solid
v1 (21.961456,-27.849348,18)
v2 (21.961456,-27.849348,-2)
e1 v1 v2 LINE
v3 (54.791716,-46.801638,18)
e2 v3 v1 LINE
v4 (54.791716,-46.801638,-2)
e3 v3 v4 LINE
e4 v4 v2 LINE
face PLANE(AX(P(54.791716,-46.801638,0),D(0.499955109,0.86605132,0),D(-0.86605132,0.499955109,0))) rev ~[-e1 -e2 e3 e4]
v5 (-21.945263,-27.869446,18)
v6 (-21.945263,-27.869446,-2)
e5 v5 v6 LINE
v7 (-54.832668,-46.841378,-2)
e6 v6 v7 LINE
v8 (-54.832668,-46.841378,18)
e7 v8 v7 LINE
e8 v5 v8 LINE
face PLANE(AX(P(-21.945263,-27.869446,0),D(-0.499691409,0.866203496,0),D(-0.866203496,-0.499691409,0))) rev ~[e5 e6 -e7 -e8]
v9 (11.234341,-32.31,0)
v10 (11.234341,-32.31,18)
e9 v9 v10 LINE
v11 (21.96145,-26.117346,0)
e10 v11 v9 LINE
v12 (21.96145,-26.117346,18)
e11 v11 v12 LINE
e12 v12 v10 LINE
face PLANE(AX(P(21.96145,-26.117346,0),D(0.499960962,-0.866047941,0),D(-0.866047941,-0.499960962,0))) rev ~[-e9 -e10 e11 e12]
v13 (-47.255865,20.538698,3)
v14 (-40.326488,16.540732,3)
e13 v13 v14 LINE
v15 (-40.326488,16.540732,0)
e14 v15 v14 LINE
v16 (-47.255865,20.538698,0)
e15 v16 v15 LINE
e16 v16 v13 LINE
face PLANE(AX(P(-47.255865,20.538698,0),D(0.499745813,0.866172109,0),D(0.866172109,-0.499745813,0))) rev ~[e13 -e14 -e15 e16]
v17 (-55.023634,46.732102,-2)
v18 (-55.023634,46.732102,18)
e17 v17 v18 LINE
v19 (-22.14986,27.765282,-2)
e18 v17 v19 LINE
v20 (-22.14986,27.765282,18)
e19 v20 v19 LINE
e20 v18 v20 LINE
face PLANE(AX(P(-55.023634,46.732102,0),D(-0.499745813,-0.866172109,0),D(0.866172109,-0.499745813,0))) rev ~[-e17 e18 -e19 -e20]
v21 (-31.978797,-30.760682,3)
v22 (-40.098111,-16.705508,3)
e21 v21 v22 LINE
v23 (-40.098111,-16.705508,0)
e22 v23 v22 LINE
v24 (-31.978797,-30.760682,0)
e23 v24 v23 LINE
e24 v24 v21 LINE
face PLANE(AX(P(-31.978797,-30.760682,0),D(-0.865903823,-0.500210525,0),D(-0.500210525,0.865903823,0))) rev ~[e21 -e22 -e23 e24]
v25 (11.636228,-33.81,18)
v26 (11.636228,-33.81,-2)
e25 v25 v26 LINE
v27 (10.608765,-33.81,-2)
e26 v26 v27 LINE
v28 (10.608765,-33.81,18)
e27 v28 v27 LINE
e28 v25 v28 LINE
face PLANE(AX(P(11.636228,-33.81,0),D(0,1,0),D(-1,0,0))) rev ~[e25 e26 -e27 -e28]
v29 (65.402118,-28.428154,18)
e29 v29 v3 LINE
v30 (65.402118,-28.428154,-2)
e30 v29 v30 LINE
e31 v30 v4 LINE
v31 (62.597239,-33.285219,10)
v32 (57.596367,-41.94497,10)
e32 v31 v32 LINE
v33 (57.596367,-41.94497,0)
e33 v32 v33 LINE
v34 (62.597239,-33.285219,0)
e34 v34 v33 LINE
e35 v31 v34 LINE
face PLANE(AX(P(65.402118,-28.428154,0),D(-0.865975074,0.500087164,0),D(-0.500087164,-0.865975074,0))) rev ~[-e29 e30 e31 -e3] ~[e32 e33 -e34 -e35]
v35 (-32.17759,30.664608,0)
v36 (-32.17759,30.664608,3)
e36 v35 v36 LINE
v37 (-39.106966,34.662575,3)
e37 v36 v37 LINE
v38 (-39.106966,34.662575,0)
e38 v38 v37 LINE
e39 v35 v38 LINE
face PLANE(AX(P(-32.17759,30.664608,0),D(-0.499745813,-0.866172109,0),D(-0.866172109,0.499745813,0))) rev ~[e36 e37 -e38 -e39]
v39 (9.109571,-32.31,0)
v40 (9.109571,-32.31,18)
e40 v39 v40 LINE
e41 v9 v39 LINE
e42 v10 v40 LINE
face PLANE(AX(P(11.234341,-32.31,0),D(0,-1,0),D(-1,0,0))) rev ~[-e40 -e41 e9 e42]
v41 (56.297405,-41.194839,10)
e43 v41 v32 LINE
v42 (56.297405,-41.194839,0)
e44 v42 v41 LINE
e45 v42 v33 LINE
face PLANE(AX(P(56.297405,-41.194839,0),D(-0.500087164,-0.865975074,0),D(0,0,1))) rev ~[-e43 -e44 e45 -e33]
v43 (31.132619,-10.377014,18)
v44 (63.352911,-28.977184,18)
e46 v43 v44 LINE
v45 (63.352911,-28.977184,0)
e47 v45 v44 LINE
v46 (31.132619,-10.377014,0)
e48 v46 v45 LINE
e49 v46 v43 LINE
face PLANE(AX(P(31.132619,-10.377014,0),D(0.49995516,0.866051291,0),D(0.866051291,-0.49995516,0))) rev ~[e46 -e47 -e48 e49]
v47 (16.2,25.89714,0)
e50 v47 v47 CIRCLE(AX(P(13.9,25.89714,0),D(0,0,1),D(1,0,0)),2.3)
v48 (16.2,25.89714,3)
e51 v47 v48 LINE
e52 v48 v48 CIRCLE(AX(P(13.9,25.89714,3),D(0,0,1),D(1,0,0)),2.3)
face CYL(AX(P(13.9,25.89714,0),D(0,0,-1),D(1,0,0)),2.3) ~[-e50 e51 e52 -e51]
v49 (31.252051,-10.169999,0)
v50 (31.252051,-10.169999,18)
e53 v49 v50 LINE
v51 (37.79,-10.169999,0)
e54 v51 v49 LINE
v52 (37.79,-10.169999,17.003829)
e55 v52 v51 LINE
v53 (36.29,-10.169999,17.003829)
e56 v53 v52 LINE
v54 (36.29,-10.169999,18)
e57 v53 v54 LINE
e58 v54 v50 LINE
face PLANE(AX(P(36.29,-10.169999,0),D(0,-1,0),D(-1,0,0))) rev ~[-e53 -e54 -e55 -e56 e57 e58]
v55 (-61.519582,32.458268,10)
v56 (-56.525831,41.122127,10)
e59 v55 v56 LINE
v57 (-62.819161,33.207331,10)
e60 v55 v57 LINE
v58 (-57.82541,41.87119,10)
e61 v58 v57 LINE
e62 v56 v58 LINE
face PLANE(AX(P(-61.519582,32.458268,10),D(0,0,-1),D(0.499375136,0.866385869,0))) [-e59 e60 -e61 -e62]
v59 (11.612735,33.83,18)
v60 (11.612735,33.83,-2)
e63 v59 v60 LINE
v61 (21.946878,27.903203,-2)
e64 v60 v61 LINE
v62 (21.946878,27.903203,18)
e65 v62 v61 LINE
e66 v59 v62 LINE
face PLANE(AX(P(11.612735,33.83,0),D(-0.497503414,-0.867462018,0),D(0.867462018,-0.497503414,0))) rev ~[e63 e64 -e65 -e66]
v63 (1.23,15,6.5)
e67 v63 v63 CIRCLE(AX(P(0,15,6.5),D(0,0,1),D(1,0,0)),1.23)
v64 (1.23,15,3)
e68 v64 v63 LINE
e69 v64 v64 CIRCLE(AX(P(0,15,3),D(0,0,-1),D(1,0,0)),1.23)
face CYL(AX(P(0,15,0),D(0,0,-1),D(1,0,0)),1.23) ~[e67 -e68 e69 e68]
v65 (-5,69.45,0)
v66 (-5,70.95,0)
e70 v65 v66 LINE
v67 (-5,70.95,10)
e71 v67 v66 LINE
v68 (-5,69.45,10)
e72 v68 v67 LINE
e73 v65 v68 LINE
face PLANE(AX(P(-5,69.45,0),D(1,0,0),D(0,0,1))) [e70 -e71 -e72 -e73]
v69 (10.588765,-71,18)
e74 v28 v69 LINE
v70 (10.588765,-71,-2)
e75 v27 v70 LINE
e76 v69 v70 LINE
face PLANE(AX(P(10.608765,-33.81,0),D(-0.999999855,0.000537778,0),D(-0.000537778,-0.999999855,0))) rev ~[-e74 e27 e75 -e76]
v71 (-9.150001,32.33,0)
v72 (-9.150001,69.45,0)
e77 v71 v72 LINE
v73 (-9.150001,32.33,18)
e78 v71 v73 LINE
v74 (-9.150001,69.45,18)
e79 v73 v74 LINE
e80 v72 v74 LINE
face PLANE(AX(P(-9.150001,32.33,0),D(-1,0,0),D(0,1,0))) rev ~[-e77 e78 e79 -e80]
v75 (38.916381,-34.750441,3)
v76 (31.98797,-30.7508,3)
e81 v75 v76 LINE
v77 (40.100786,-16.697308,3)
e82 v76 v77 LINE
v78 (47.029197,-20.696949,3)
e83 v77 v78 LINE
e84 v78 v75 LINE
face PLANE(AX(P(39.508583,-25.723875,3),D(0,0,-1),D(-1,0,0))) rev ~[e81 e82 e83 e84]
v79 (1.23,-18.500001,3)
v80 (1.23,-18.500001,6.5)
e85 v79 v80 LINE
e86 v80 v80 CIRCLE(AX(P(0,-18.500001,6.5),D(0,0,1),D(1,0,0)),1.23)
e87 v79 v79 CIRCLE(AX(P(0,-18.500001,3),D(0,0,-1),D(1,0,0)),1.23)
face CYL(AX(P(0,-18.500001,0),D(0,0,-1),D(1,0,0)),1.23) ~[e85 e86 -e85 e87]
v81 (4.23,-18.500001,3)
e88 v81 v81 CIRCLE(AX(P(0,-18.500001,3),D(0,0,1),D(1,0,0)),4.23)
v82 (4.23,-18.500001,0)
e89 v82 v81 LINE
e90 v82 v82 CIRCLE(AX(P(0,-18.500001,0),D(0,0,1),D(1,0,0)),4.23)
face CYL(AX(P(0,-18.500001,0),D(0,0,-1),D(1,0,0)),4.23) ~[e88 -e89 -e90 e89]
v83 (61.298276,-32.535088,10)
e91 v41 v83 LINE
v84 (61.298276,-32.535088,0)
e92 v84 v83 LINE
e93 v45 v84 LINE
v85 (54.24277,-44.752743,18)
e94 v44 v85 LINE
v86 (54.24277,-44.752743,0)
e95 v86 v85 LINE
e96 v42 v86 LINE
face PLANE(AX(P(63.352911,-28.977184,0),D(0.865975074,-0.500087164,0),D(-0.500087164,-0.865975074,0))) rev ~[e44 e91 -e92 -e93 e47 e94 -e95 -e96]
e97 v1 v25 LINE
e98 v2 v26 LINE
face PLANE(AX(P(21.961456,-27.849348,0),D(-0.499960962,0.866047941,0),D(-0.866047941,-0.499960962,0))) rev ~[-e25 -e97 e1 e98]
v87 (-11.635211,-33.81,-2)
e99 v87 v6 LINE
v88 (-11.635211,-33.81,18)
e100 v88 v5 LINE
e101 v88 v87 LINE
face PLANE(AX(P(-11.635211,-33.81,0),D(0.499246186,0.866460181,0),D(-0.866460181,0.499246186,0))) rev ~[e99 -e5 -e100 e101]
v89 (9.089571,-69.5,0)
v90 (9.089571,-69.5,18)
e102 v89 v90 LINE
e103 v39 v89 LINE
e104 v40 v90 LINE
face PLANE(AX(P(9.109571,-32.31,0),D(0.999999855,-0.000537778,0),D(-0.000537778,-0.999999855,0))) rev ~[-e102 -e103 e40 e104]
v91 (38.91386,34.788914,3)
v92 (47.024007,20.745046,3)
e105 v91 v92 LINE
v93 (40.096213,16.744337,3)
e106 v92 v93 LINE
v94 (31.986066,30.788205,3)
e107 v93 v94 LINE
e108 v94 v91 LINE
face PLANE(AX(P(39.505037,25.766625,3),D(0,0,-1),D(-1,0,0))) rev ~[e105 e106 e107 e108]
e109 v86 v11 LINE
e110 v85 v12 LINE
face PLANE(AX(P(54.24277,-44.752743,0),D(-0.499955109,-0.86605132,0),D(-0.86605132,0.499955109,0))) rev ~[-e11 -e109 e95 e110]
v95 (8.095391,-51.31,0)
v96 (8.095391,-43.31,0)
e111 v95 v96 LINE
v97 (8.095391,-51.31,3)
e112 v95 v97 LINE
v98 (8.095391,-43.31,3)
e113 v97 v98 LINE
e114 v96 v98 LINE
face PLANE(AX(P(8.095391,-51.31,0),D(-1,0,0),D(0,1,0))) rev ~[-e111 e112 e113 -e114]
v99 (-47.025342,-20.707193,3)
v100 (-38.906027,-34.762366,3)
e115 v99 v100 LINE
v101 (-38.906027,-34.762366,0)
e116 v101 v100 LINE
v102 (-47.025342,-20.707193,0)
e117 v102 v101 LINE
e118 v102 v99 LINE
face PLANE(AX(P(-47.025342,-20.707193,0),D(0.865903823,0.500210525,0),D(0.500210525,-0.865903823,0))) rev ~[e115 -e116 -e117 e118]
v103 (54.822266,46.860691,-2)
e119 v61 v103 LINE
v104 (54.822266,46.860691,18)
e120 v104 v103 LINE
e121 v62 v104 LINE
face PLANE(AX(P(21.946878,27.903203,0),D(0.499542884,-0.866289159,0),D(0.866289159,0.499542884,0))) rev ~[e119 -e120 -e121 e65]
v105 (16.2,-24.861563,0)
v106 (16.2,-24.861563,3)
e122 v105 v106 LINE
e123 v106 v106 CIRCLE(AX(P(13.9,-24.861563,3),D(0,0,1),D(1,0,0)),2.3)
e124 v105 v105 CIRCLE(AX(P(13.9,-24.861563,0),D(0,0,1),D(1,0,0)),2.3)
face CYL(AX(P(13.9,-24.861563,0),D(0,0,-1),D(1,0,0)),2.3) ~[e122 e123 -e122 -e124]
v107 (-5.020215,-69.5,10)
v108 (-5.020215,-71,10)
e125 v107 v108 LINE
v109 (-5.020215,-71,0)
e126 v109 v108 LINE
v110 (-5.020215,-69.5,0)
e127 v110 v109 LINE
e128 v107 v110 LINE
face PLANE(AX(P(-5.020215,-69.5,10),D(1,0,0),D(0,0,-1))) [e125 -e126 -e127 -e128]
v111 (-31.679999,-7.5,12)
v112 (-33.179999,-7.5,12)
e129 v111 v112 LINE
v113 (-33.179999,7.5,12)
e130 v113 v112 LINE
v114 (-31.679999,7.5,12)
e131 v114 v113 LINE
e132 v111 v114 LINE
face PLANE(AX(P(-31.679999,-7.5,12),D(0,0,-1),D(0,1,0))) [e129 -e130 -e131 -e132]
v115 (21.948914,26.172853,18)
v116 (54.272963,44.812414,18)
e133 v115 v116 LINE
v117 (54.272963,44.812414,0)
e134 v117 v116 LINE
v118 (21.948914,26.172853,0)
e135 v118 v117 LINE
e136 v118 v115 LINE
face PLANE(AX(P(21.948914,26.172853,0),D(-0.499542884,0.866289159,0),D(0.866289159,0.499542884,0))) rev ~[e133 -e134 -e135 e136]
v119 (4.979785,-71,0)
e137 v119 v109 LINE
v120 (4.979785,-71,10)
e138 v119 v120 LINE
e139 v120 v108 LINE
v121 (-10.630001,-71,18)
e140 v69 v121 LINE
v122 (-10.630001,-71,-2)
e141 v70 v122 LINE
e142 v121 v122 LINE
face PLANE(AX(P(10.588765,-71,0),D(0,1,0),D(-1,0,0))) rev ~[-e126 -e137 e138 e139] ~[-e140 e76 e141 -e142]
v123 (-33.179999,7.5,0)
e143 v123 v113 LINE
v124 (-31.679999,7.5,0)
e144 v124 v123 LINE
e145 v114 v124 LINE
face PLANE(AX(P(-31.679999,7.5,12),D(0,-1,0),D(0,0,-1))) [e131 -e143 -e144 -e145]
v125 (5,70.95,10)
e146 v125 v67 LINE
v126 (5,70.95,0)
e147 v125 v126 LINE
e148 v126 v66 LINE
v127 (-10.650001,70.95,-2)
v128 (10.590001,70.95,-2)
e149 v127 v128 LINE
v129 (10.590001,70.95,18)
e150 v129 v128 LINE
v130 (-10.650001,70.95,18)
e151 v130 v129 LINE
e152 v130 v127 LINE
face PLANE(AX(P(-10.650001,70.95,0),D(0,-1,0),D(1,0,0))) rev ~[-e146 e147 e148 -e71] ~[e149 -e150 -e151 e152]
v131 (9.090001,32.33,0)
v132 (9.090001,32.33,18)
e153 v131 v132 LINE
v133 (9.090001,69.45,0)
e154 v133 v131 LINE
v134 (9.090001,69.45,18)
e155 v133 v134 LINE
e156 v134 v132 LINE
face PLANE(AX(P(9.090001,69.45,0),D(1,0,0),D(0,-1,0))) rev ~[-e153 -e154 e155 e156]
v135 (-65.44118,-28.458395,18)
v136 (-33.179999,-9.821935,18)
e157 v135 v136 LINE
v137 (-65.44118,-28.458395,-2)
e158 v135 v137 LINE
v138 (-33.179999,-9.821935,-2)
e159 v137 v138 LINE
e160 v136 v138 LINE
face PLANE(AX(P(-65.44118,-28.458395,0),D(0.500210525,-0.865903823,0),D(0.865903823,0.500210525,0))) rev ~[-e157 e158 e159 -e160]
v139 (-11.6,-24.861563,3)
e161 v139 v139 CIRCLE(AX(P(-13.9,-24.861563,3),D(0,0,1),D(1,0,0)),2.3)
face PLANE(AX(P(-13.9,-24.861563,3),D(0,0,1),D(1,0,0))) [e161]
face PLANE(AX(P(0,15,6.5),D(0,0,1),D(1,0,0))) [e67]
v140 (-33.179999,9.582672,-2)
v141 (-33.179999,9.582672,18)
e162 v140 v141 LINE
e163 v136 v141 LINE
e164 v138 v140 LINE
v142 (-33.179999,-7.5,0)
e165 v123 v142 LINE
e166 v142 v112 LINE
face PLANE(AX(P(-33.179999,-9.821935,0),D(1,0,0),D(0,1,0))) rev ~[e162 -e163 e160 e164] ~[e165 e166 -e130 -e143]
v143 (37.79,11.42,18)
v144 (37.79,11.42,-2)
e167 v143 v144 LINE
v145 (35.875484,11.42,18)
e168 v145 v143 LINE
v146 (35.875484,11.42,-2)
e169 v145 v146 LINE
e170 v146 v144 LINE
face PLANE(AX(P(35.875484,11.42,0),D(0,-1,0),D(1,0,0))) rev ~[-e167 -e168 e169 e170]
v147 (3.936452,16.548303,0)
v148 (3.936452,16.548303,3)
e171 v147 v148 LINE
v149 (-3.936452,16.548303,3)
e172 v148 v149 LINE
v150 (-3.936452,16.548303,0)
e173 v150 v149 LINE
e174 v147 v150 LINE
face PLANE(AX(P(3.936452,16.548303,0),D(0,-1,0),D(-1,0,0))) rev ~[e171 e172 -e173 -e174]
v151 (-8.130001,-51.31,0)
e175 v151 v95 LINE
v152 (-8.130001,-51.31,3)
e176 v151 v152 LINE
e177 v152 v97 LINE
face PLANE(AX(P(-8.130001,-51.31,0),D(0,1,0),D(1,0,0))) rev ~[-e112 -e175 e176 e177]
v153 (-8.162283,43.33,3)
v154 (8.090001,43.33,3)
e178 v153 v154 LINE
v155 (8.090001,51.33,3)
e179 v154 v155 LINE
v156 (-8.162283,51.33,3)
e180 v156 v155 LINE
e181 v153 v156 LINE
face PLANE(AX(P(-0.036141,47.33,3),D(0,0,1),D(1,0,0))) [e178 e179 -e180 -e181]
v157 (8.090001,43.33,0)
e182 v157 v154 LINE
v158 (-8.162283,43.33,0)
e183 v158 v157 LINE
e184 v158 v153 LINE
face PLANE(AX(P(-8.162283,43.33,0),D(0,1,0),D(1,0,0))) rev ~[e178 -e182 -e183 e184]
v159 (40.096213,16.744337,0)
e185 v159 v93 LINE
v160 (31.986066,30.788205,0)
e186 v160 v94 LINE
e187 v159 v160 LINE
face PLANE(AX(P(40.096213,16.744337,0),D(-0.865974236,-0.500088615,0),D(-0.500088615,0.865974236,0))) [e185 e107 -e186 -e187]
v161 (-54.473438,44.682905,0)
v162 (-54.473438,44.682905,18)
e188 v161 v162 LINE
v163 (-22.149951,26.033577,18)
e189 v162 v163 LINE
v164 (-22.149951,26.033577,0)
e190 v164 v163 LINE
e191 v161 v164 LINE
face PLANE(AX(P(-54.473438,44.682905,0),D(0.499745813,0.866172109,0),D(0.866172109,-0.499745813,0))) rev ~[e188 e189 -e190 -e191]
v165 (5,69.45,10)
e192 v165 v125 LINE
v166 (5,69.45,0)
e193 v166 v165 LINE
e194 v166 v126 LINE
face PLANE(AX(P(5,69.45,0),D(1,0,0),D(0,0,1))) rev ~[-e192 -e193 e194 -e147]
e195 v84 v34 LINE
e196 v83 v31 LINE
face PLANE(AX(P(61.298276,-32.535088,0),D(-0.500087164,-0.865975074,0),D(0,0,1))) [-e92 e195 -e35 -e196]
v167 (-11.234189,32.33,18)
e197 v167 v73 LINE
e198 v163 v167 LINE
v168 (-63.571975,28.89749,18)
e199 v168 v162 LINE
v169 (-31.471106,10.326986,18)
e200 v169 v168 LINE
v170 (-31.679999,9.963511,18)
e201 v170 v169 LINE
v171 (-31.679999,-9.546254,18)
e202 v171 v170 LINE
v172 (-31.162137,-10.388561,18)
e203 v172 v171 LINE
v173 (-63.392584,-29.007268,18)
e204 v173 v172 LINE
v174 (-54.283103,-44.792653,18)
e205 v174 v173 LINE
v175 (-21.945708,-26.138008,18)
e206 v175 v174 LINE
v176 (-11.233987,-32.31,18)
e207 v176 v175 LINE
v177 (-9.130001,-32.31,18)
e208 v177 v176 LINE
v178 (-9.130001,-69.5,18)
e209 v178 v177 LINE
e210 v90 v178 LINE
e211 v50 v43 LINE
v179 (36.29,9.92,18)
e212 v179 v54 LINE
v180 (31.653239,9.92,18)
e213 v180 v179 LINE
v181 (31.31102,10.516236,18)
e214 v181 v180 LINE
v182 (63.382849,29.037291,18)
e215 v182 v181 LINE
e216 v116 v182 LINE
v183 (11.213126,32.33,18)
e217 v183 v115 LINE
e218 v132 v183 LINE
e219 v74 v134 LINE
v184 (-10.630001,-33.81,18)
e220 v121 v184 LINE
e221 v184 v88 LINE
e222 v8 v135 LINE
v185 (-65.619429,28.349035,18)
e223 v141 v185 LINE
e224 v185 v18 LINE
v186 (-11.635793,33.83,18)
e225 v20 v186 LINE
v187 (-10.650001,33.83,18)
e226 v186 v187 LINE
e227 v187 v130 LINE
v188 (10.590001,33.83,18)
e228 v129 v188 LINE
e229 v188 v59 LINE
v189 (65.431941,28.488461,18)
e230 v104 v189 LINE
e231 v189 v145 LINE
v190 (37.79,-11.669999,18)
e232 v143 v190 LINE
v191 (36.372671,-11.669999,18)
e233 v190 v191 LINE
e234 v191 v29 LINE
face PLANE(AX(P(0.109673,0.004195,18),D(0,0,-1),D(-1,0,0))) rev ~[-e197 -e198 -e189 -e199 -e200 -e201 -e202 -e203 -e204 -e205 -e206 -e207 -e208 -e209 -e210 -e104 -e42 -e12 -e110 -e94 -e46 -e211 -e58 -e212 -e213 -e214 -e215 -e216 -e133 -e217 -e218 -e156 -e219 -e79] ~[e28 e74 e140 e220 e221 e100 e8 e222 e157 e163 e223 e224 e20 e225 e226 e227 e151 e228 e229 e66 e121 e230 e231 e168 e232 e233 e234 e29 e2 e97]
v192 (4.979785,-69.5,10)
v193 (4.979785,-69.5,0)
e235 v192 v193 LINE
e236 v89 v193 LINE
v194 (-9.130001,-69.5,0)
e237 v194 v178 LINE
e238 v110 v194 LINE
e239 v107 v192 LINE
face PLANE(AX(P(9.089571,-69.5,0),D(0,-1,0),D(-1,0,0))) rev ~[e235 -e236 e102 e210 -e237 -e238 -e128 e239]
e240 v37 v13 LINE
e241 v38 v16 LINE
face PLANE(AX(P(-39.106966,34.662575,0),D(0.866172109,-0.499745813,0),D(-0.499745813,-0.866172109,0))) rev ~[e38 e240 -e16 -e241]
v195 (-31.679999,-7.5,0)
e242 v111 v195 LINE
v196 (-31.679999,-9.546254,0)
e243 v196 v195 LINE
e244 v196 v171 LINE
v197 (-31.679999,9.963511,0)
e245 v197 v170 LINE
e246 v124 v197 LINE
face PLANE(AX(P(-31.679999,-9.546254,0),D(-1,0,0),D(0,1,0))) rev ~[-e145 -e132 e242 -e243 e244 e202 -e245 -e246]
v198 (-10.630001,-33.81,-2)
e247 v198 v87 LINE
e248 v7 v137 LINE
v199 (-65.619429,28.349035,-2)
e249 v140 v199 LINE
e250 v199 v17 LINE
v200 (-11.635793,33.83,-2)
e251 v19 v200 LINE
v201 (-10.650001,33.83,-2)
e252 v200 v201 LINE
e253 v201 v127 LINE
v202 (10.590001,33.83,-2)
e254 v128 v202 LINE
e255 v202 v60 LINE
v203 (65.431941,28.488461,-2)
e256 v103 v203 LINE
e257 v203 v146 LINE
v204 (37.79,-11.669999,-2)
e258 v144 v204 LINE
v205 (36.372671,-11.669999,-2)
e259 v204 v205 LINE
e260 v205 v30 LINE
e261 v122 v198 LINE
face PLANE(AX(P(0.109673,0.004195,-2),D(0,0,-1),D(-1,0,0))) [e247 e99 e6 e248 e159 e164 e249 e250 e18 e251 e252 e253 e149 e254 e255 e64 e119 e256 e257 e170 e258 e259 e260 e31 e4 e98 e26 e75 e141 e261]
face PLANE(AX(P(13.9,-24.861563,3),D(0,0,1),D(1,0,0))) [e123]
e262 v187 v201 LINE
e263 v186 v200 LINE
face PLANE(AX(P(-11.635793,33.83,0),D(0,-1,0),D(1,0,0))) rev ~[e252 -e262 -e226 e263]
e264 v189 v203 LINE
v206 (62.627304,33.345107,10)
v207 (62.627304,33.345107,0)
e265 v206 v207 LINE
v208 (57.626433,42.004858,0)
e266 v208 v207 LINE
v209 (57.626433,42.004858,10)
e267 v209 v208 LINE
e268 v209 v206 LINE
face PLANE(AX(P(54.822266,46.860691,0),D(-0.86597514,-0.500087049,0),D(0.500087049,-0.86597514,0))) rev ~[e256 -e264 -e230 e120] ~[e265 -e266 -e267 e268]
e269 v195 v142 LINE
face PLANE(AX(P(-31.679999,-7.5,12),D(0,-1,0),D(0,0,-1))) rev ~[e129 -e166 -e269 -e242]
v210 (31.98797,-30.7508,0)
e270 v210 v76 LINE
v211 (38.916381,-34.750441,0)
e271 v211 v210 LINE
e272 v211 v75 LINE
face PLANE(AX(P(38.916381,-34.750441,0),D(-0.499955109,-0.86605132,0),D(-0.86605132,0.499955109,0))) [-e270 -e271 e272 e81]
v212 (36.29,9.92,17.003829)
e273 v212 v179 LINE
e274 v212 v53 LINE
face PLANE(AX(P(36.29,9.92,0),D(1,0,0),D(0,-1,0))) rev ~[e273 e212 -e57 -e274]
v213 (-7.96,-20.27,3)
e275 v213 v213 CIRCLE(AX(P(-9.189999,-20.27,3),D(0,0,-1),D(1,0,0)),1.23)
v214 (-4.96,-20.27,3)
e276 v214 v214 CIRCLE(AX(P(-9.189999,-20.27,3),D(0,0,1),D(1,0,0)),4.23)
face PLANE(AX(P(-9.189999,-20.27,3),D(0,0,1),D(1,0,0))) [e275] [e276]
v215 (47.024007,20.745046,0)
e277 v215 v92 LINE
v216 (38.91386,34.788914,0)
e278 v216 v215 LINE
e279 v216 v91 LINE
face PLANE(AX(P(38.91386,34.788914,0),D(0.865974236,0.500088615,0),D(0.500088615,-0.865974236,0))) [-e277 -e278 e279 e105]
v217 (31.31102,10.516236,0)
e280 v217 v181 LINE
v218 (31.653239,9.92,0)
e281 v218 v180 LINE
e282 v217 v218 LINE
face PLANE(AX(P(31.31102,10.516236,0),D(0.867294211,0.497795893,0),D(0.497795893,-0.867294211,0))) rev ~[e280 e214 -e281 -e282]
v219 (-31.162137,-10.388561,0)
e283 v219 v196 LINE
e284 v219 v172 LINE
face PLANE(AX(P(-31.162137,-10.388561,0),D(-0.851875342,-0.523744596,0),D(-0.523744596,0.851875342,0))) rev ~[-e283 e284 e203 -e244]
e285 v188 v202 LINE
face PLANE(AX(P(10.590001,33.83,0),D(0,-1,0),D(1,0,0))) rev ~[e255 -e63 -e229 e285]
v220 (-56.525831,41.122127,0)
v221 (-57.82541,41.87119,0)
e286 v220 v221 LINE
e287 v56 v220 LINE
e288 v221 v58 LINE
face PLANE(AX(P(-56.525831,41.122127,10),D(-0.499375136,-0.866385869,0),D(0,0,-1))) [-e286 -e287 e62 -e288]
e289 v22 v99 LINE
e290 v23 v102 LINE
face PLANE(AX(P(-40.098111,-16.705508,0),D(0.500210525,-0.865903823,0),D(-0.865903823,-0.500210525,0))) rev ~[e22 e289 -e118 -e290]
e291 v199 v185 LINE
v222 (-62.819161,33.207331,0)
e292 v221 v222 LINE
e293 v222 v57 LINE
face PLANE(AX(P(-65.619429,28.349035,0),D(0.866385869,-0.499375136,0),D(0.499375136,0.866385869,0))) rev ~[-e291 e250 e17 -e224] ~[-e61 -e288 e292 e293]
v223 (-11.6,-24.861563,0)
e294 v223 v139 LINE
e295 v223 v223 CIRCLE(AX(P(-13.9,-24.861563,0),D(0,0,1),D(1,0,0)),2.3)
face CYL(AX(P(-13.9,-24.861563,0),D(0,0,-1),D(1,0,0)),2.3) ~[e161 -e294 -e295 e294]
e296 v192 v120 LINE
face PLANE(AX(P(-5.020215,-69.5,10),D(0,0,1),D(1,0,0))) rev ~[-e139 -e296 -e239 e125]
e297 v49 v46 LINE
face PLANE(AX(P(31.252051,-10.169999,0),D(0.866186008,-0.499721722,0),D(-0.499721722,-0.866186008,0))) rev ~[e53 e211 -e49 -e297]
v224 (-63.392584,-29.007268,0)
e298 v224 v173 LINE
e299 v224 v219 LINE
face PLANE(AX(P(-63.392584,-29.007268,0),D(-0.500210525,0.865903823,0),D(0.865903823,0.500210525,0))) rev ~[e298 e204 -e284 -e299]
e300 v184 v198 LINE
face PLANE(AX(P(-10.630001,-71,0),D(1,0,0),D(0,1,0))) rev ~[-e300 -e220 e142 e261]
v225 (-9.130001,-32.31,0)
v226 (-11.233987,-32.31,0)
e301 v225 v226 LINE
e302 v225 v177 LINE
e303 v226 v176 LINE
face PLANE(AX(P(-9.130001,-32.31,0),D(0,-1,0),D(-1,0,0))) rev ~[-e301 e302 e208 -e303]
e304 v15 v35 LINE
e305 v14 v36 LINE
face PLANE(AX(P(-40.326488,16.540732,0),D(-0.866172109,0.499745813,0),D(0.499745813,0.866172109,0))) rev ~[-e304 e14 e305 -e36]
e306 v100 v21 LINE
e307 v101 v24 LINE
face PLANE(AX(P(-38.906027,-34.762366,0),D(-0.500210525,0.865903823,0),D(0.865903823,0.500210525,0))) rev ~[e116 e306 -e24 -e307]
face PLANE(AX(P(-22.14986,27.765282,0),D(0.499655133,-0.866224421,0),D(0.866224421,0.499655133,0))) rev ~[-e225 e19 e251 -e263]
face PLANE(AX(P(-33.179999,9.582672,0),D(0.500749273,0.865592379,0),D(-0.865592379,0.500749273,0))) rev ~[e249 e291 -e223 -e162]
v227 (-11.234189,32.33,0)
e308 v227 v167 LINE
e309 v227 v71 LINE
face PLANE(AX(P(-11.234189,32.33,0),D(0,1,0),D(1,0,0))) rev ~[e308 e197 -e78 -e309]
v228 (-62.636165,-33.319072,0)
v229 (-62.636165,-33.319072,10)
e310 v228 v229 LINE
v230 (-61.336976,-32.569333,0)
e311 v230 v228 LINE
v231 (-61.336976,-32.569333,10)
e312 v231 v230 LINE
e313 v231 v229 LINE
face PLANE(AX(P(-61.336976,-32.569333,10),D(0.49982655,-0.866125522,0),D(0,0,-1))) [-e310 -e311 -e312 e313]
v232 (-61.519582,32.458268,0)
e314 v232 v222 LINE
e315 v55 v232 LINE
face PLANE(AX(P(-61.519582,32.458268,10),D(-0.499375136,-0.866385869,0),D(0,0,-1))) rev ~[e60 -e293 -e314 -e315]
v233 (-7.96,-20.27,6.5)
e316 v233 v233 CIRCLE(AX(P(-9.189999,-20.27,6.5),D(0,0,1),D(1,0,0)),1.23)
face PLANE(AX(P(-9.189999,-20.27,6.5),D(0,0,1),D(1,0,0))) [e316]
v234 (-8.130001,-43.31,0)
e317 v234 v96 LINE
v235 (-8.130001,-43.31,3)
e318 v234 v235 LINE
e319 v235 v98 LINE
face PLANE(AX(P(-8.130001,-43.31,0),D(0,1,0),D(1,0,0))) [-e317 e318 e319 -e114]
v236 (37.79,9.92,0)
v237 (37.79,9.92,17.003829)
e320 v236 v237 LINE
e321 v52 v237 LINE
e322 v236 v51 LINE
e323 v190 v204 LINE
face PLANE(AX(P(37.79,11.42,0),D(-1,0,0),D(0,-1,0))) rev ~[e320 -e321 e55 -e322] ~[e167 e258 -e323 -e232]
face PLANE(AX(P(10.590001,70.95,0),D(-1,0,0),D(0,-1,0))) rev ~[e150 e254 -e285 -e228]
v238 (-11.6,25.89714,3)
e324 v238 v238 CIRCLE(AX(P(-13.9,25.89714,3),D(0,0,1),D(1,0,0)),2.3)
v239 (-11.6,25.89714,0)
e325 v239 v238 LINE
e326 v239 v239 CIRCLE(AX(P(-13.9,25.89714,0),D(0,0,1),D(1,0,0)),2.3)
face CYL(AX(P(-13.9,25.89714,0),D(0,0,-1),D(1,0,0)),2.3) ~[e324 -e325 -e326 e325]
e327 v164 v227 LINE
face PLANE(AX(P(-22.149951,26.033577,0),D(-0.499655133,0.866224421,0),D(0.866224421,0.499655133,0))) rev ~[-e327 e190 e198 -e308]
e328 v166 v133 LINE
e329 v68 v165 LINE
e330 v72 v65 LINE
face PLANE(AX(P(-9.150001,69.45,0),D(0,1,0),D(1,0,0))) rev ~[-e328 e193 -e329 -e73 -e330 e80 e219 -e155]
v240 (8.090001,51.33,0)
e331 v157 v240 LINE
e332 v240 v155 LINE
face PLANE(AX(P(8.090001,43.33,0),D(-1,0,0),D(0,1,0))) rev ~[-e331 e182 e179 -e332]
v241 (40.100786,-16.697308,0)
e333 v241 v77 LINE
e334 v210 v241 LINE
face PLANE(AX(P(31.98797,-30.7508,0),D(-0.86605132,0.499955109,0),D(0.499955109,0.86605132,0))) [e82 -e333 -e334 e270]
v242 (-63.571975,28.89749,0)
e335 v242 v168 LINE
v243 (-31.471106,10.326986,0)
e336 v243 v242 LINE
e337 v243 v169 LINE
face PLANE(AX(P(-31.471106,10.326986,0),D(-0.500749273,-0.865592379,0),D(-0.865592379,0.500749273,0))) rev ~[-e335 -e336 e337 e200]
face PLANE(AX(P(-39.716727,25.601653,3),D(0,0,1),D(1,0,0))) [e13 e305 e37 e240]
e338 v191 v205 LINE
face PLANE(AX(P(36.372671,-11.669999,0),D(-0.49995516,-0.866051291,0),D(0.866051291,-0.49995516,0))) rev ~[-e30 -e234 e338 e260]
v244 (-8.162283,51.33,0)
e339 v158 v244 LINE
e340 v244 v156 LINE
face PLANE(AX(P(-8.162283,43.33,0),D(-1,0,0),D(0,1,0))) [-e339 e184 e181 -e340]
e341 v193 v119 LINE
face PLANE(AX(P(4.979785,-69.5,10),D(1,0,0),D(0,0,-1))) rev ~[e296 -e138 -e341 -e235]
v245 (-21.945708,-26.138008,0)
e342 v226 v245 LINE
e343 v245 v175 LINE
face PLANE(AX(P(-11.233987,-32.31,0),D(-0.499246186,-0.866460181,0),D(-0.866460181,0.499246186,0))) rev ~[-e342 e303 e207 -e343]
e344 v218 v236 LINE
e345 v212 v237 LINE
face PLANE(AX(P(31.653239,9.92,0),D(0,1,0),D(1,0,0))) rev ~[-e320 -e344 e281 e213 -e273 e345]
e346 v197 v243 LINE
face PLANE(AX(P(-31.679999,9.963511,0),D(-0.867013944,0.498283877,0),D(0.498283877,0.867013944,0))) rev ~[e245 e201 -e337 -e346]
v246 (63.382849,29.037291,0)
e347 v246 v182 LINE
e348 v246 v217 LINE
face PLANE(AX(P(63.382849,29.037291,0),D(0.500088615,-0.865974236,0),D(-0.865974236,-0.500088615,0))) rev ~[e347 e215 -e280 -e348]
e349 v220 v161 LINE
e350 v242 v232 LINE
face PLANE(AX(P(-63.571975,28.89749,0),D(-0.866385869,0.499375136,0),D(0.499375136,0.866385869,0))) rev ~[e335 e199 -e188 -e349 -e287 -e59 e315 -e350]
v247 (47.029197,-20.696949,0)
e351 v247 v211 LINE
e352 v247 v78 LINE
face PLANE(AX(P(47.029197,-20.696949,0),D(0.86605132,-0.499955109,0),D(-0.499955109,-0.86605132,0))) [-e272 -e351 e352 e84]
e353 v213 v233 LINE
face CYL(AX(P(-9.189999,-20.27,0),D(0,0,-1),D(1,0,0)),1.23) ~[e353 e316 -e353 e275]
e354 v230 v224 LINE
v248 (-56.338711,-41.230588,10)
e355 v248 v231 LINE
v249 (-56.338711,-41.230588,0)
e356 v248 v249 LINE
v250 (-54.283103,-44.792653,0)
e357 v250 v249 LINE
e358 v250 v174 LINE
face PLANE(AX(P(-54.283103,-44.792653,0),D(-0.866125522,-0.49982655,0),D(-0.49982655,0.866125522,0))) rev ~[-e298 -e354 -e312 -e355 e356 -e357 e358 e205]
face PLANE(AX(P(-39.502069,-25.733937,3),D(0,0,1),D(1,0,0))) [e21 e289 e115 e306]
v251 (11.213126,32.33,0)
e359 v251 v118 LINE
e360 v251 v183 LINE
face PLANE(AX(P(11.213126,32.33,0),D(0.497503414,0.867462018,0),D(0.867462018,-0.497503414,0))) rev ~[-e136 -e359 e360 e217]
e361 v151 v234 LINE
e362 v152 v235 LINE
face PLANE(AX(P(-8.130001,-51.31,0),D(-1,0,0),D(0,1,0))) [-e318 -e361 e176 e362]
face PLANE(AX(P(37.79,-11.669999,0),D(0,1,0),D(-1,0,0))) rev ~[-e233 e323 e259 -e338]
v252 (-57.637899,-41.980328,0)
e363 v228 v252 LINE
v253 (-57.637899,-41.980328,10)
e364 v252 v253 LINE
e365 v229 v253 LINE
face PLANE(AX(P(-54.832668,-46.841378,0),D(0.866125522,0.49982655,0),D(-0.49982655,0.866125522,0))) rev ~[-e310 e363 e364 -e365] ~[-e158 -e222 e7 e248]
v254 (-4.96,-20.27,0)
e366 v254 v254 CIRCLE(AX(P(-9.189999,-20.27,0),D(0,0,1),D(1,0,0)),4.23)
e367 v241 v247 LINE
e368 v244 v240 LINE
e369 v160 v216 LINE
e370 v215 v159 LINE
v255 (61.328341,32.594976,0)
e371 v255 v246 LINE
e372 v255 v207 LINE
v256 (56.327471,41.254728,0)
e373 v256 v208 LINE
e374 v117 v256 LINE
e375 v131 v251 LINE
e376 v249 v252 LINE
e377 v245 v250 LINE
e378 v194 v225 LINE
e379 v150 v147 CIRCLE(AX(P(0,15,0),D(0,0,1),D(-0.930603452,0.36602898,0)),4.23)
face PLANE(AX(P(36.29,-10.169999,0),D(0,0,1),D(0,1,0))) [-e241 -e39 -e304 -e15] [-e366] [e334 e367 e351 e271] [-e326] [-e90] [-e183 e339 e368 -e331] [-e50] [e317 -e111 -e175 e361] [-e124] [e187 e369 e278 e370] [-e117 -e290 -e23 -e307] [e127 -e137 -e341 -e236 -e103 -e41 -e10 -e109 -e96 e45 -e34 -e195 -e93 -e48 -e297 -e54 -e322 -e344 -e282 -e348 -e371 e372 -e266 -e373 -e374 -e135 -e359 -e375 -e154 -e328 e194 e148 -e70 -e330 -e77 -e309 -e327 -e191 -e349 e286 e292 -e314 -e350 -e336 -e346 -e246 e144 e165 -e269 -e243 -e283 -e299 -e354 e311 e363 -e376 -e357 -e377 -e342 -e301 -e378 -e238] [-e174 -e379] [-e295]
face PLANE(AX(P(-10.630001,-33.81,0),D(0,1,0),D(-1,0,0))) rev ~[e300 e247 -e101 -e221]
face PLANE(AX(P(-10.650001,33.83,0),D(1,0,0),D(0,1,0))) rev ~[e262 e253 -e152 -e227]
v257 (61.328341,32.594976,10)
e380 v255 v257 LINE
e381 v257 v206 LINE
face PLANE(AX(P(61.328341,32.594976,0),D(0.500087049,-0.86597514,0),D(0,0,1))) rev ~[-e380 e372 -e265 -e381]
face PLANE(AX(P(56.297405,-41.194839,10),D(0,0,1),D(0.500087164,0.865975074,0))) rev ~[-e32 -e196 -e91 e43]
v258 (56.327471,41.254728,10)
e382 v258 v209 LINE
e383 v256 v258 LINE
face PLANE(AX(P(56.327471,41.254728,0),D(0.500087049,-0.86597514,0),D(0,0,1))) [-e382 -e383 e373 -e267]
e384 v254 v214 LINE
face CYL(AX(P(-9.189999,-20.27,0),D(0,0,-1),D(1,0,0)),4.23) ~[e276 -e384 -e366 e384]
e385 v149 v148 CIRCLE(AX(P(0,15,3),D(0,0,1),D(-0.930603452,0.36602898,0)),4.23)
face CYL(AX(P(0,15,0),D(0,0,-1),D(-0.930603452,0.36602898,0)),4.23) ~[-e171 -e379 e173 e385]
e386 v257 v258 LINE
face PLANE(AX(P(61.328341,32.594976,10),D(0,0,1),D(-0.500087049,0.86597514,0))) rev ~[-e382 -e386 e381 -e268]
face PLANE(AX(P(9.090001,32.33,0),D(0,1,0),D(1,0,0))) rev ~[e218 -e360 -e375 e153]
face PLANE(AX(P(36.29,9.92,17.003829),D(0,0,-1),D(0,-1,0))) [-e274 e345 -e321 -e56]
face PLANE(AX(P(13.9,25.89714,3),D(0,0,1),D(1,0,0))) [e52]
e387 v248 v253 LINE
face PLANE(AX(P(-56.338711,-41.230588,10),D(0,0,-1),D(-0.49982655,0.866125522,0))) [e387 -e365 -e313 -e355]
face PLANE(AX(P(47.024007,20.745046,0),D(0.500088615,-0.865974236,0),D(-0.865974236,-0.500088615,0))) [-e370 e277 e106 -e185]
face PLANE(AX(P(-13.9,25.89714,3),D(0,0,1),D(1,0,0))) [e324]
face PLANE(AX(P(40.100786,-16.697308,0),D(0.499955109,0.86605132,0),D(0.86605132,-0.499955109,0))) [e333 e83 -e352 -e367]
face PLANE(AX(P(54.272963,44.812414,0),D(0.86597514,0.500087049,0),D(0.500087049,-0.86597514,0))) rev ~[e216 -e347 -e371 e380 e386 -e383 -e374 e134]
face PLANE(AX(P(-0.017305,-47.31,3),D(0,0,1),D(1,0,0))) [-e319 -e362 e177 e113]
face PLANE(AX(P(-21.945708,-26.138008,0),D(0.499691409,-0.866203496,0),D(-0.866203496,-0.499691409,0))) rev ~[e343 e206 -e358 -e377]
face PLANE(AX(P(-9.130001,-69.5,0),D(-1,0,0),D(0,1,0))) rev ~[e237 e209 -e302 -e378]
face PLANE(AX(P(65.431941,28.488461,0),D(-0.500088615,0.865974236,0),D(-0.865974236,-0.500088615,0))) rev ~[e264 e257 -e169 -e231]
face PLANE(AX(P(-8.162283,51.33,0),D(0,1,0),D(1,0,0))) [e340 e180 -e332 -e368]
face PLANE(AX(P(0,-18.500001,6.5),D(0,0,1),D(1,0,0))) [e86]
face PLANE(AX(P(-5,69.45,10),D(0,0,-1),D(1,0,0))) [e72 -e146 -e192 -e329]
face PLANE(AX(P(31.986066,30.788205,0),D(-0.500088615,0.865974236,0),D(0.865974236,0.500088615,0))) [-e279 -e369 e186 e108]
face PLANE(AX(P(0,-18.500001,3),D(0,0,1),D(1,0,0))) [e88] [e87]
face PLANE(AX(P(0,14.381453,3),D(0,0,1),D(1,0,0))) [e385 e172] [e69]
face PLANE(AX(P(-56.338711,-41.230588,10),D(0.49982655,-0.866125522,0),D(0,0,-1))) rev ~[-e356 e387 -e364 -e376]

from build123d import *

# Parameters (mm, degrees)
AUFSATZ_LINEAR_AUSTRAGEN1_DEPTH = 18
AUFSATZ_LINEAR_AUSTRAGEN2_DEPTH = 2
SCHNITT_LINEAR_AUSTRAGEN1_REACH = 127.501
SCHNITT_LINEAR_AUSTRAGEN2_REACH = 123.638
SKIZZE5_W                       = 12
SKIZZE5_H                       = 15
SKIZZE7_R                       = 1.22999984
AUFSATZ_LINEAR_AUSTRAGEN3_DEPTH = 6.5
SKIZZE8_R                       = 4.22999984
SKIZZE8_R_2                     = 2.3
AUFSATZ_LINEAR_AUSTRAGEN4_DEPTH = 3
SKIZZE9_W                       = 16.252283896
SKIZZE9_H                       = 8
SKIZZE9_W_2                     = 16.225392475
AUFSATZ_LINEAR_AUSTRAGEN7_DEPTH = 3
SCHNITT_LINEAR_AUSTRAGEN3_REACH = 158.064
SKIZZE11_W                      = 10
SKIZZE11_H                      = 10
SCHNITT_LINEAR_AUSTRAGEN4_REACH = 167.245
SKIZZE13_W                      = 10
SKIZZE13_H                      = 10
SCHNITT_LINEAR_AUSTRAGEN5_REACH = 167.158
SKIZZE14_W                      = 10
SKIZZE14_H                      = 10
SCHNITT_LINEAR_AUSTRAGEN6_REACH = 158.064
SKIZZE15_W                      = 10
SKIZZE15_H                      = 10
SCHNITT_LINEAR_AUSTRAGEN7_REACH = 167.062
SKIZZE16_W                      = 10
SKIZZE16_H                      = 10
SCHNITT_LINEAR_AUSTRAGEN8_REACH = 167.189
SKIZZE17_W                      = 10
SKIZZE17_H                      = 10


with BuildPart() as part:
    # Skizze1 → Aufsatz-Linear austragen1 (new body)
    with BuildSketch(Plane.XY):
        Polygon((-22.149859894, 27.765281808), (-11.635793215, 33.83000044), (-10.65000108, 33.83000044), (-10.65000108, 70.94999986), (10.5900012, 70.94999986), (10.5900012, 33.83000044), (11.612735063, 33.83000044), (21.946878227, 27.90320319), (54.822266278, 46.860690996), (65.431940836, 28.488460753), (35.875483821, 11.41999954), (37.79000014, 11.41999954), (37.79000014, -11.66999904), (36.372671479, -11.66999904), (65.402118422, -28.428154068), (54.791716349, -46.801638497), (21.961456264, -27.849347945), (11.636228403, -33.81000048), (10.608764603, -33.81000048), (10.588764643, -70.99999976), (-10.63000112, -70.99999976), (-10.63000112, -33.81000048), (-11.635211495, -33.81000048), (-21.94526311, -27.869445957), (-54.832668225, -46.841377939), (-65.441180026, -28.458395245), (-33.1799992, -9.82193495), (-33.1799992, 9.582671858), (-65.619428736, 28.349034811), (-55.023633975, 46.732102334), align=None)
        Polygon((-22.149950537, 26.033576659), (-11.234189479, 32.33000044), (-9.15000108, 32.33000044), (-9.15000108, 69.44999986), (9.0900012, 69.44999986), (9.0900012, 32.33000044), (11.2131258, 32.33000044), (21.948913697, 26.172853479), (54.272963006, 44.812413555), (63.382848908, 29.03729054), (31.311020441, 10.516235735), (31.653238716, 9.91999954), (36.29000014, 9.91999954), (36.29000014, -10.16999904), (31.252050971, -10.16999904), (31.132619329, -10.37701429), (63.352910716, -28.977183946), (54.242770108, -44.752743199), (21.961450411, -26.11734559), (11.234340849, -32.31000048), (9.109571053, -32.31000048), (9.089571093, -69.49999976), (-9.13000112, -69.49999976), (-9.13000112, -32.31000048), (-11.233987142, -32.31000048), (-21.945708018, -26.138007916), (-54.2831028, -44.792652518), (-63.392584266, -29.007267794), (-31.162137007, -10.388561496), (-31.6799992, -9.546253935), (-31.6799992, 9.963511331), (-31.471105622, 10.326986156), (-63.571974887, 28.897490395), (-54.473438465, 44.682904625), align=None, mode=Mode.SUBTRACT)
    extrude(amount=AUFSATZ_LINEAR_AUSTRAGEN1_DEPTH)

    # Skizze3 → Aufsatz-Linear austragen2 (add)
    with BuildSketch(Plane(origin=(0, 0, 0), x_dir=(-1, 0, 0), z_dir=(0, 0, -1))):
        Polygon((55.023633975, 46.732102334), (22.149859894, 27.765281808), (11.635793215, 33.83000044), (10.65000108, 33.83000044), (10.65000108, 70.94999986), (-10.5900012, 70.94999986), (-10.5900012, 33.83000044), (-11.612735063, 33.83000044), (-21.946878227, 27.90320319), (-54.822266278, 46.860690996), (-65.431940836, 28.488460753), (-35.875483821, 11.41999954), (-37.79000014, 11.41999954), (-37.79000014, -11.66999904), (-36.372671479, -11.66999904), (-65.402118422, -28.428154068), (-54.791716349, -46.801638497), (-21.961456264, -27.849347945), (-11.636228403, -33.81000048), (-10.608764603, -33.81000048), (-10.588764643, -70.99999976), (10.63000112, -70.99999976), (10.63000112, -33.81000048), (11.635211495, -33.81000048), (21.94526311, -27.869445957), (54.832668225, -46.841377939), (65.441180026, -28.458395245), (33.1799992, -9.82193495), (33.1799992, 9.582671858), (65.619428736, 28.349034811), align=None)
    extrude(amount=AUFSATZ_LINEAR_AUSTRAGEN2_DEPTH)

    # Skizze4 → Schnitt-Linear austragen1 (cut, up to next)
    with BuildSketch(Plane.ZY.offset(-36.29000014), mode=Mode.PRIVATE) as schnitt_linear_austragen1_sk1:
        Polygon((17.00382914, 9.91999954), (17.00382914, -10.16999904), (0.851260669, -10.16999904), (0, -10.16999904), (0, 9.91999954), (0.851260669, 9.91999954), align=None)
    schnitt_linear_austragen1_tool1 = extrude(schnitt_linear_austragen1_sk1.sketch, amount=-SCHNITT_LINEAR_AUSTRAGEN1_REACH, mode=Mode.PRIVATE) & part.part
    add(schnitt_linear_austragen1_tool1.solids().sort_by_distance((36.29, -0.125, 8.501915))[0], mode=Mode.SUBTRACT)

    # Skizze5 → Schnitt-Linear austragen2 (cut, up to next)
    with BuildSketch(Plane(origin=(-31.6799992, 0, 0), x_dir=(0, 0, -1), z_dir=(1, 0, 0)), mode=Mode.PRIVATE) as schnitt_linear_austragen2_sk1:
        with Locations((-6, 0)):
            Rectangle(SKIZZE5_W, SKIZZE5_H)
    schnitt_linear_austragen2_tool1 = extrude(schnitt_linear_austragen2_sk1.sketch, amount=-SCHNITT_LINEAR_AUSTRAGEN2_REACH, mode=Mode.PRIVATE) & part.part
    add(schnitt_linear_austragen2_tool1.solids().sort_by_distance((-31.679999, 0, 6))[0], mode=Mode.SUBTRACT)

    # Skizze7 → Aufsatz-Linear austragen3 (add)
    with BuildSketch(Plane.XY):
        with Locations((0, 15.00000048)):
            Circle(SKIZZE7_R)
        with Locations((0, -18.5000011)):
            Circle(SKIZZE7_R)
        with Locations((-9.1899994, -20.2700001)):
            Circle(SKIZZE7_R)
    extrude(amount=AUFSATZ_LINEAR_AUSTRAGEN3_DEPTH)

    # Skizze8 → Aufsatz-Linear austragen4 (add)
    with BuildSketch(Plane.XY):
        with Locations((-9.1899994, -20.2700001)):
            Circle(SKIZZE8_R)
        with Locations((0, -18.5000011)):
            Circle(SKIZZE8_R)
        with Locations((13.9, 25.897140228)):
            Circle(SKIZZE8_R_2)
        with Locations((-13.9, 25.897140228)):
            Circle(SKIZZE8_R_2)
        with Locations((13.9, -24.8615628)):
            Circle(SKIZZE8_R_2)
        with Locations((-13.9, -24.8615628)):
            Circle(SKIZZE8_R_2)
        with BuildLine():
            Line((3.936452455, 16.548303007), (-3.936452455, 16.548303007))
            ThreePointArc((-3.936452455, 16.548303007), (0, 10.77000064), (3.936452455, 16.548303007))
        make_face()
    extrude(amount=AUFSATZ_LINEAR_AUSTRAGEN4_DEPTH)

    # Skizze9 → Aufsatz-Linear austragen7 (add)
    with BuildSketch(Plane.XY):
        Polygon((-39.106966425, 34.662574989), (-47.255864546, 20.538698219), (-40.326487672, 16.540731718), (-32.177589551, 30.664608488), align=None)
        with Locations((-0.036140748, 47.33000044)):
            Rectangle(SKIZZE9_W, SKIZZE9_H)
        Polygon((40.096213315, 16.744336658), (31.986065924, 30.788205039), (38.913859811, 34.78891396), (47.024007202, 20.745045579), align=None)
        Polygon((40.10078632, -16.697308213), (47.029196881, -20.696949084), (38.916380603, -34.750441337), (31.987970041, -30.750800466), align=None)
        with Locations((-0.017304883, -47.31000048)):
            Rectangle(SKIZZE9_W_2, SKIZZE9_H)
        Polygon((-38.906027405, -34.762365837), (-31.978796823, -30.760681634), (-40.098111463, -16.705508406), (-47.025342045, -20.70719261), align=None)
    extrude(amount=AUFSATZ_LINEAR_AUSTRAGEN7_DEPTH)

    # Skizze11 → Schnitt-Linear austragen3 (cut, up to next)
    with BuildSketch(Plane.XZ.offset(-69.44999986), mode=Mode.PRIVATE) as schnitt_linear_austragen3_sk1:
        with Locations((0, 5)):
            Rectangle(SKIZZE11_W, SKIZZE11_H)
    schnitt_linear_austragen3_tool1 = extrude(schnitt_linear_austragen3_sk1.sketch, amount=-SCHNITT_LINEAR_AUSTRAGEN3_REACH, mode=Mode.PRIVATE) & part.part
    add(schnitt_linear_austragen3_tool1.solids().sort_by_distance((0, 69.45, 5))[0], mode=Mode.SUBTRACT)

    # Skizze13 → Schnitt-Linear austragen4 (cut, up to next)
    with BuildSketch(Plane(origin=(60.106593545, 34.710614216, 0), x_dir=(0, 0, 1), z_dir=(-0.8659751400407392, -0.5000870492538497, 0)), mode=Mode.PRIVATE) as schnitt_linear_austragen4_sk1:
        with Locations((5, 2.556930019)):
            Rectangle(SKIZZE13_W, SKIZZE13_H)
    schnitt_linear_austragen4_tool1 = extrude(schnitt_linear_austragen4_sk1.sketch, amount=-SCHNITT_LINEAR_AUSTRAGEN4_REACH, mode=Mode.PRIVATE) & part.part
    add(schnitt_linear_austragen4_tool1.solids().sort_by_distance((58.827906, 36.924852, 5))[0], mode=Mode.SUBTRACT)

    # Skizze14 → Schnitt-Linear austragen5 (cut, up to next)
    with BuildSketch(Plane(origin=(60.058107222, -34.682624727, 0), x_dir=(0, 0, 1), z_dir=(-0.8659750738448291, 0.5000871638819006, 0)), mode=Mode.PRIVATE) as schnitt_linear_austragen5_sk1:
        with Locations((5, -2.520094297)):
            Rectangle(SKIZZE14_W, SKIZZE14_H)
    schnitt_linear_austragen5_tool1 = extrude(schnitt_linear_austragen5_sk1.sketch, amount=-SCHNITT_LINEAR_AUSTRAGEN5_REACH, mode=Mode.PRIVATE) & part.part
    add(schnitt_linear_austragen5_tool1.solids().sort_by_distance((58.79784, -36.864964, 5))[0], mode=Mode.SUBTRACT)

    # Skizze15 → Schnitt-Linear austragen6 (cut, up to next)
    with BuildSketch(Plane(origin=(0, -69.49999976, 0), x_dir=(1, 0, 0), z_dir=(0, 1, 0)), mode=Mode.PRIVATE) as schnitt_linear_austragen6_sk1:
        with Locations((-0.020215013, -5)):
            Rectangle(SKIZZE15_W, SKIZZE15_H)
    schnitt_linear_austragen6_tool1 = extrude(schnitt_linear_austragen6_sk1.sketch, amount=-SCHNITT_LINEAR_AUSTRAGEN6_REACH, mode=Mode.PRIVATE) & part.part
    add(schnitt_linear_austragen6_tool1.solids().sort_by_distance((-0.020215, -69.5, 5))[0], mode=Mode.SUBTRACT)

    # Skizze16 → Schnitt-Linear austragen7 (cut, up to next)
    with BuildSketch(Plane(origin=(-60.113041463, -34.690230655, 0), x_dir=(0, 0, -1), z_dir=(0.8661255219511101, 0.49982655014006316, 0)), mode=Mode.PRIVATE) as schnitt_linear_austragen7_sk1:
        with Locations((-5, -2.551280899)):
            Rectangle(SKIZZE16_W, SKIZZE16_H)
    schnitt_linear_austragen7_tool1 = extrude(schnitt_linear_austragen7_sk1.sketch, amount=-SCHNITT_LINEAR_AUSTRAGEN7_REACH, mode=Mode.PRIVATE) & part.part
    add(schnitt_linear_austragen7_tool1.solids().sort_by_distance((-58.837844, -36.89996, 5))[0], mode=Mode.SUBTRACT)

    # Skizze17 → Schnitt-Linear austragen8 (cut, up to next)
    with BuildSketch(Plane(origin=(-60.221224503, 34.710841064, 0), x_dir=(0, 0, -1), z_dir=(0.8663858686371327, -0.4993751361710765, 0)), mode=Mode.PRIVATE) as schnitt_linear_austragen8_sk1:
        with Locations((-5, 2.400035044)):
            Rectangle(SKIZZE17_W, SKIZZE17_H)
    schnitt_linear_austragen8_tool1 = extrude(schnitt_linear_austragen8_sk1.sketch, amount=-SCHNITT_LINEAR_AUSTRAGEN8_REACH, mode=Mode.PRIVATE) & part.part
    add(schnitt_linear_austragen8_tool1.solids().sort_by_distance((-59.022707, 36.790198, 5))[0], mode=Mode.SUBTRACT)


solid = part.part
